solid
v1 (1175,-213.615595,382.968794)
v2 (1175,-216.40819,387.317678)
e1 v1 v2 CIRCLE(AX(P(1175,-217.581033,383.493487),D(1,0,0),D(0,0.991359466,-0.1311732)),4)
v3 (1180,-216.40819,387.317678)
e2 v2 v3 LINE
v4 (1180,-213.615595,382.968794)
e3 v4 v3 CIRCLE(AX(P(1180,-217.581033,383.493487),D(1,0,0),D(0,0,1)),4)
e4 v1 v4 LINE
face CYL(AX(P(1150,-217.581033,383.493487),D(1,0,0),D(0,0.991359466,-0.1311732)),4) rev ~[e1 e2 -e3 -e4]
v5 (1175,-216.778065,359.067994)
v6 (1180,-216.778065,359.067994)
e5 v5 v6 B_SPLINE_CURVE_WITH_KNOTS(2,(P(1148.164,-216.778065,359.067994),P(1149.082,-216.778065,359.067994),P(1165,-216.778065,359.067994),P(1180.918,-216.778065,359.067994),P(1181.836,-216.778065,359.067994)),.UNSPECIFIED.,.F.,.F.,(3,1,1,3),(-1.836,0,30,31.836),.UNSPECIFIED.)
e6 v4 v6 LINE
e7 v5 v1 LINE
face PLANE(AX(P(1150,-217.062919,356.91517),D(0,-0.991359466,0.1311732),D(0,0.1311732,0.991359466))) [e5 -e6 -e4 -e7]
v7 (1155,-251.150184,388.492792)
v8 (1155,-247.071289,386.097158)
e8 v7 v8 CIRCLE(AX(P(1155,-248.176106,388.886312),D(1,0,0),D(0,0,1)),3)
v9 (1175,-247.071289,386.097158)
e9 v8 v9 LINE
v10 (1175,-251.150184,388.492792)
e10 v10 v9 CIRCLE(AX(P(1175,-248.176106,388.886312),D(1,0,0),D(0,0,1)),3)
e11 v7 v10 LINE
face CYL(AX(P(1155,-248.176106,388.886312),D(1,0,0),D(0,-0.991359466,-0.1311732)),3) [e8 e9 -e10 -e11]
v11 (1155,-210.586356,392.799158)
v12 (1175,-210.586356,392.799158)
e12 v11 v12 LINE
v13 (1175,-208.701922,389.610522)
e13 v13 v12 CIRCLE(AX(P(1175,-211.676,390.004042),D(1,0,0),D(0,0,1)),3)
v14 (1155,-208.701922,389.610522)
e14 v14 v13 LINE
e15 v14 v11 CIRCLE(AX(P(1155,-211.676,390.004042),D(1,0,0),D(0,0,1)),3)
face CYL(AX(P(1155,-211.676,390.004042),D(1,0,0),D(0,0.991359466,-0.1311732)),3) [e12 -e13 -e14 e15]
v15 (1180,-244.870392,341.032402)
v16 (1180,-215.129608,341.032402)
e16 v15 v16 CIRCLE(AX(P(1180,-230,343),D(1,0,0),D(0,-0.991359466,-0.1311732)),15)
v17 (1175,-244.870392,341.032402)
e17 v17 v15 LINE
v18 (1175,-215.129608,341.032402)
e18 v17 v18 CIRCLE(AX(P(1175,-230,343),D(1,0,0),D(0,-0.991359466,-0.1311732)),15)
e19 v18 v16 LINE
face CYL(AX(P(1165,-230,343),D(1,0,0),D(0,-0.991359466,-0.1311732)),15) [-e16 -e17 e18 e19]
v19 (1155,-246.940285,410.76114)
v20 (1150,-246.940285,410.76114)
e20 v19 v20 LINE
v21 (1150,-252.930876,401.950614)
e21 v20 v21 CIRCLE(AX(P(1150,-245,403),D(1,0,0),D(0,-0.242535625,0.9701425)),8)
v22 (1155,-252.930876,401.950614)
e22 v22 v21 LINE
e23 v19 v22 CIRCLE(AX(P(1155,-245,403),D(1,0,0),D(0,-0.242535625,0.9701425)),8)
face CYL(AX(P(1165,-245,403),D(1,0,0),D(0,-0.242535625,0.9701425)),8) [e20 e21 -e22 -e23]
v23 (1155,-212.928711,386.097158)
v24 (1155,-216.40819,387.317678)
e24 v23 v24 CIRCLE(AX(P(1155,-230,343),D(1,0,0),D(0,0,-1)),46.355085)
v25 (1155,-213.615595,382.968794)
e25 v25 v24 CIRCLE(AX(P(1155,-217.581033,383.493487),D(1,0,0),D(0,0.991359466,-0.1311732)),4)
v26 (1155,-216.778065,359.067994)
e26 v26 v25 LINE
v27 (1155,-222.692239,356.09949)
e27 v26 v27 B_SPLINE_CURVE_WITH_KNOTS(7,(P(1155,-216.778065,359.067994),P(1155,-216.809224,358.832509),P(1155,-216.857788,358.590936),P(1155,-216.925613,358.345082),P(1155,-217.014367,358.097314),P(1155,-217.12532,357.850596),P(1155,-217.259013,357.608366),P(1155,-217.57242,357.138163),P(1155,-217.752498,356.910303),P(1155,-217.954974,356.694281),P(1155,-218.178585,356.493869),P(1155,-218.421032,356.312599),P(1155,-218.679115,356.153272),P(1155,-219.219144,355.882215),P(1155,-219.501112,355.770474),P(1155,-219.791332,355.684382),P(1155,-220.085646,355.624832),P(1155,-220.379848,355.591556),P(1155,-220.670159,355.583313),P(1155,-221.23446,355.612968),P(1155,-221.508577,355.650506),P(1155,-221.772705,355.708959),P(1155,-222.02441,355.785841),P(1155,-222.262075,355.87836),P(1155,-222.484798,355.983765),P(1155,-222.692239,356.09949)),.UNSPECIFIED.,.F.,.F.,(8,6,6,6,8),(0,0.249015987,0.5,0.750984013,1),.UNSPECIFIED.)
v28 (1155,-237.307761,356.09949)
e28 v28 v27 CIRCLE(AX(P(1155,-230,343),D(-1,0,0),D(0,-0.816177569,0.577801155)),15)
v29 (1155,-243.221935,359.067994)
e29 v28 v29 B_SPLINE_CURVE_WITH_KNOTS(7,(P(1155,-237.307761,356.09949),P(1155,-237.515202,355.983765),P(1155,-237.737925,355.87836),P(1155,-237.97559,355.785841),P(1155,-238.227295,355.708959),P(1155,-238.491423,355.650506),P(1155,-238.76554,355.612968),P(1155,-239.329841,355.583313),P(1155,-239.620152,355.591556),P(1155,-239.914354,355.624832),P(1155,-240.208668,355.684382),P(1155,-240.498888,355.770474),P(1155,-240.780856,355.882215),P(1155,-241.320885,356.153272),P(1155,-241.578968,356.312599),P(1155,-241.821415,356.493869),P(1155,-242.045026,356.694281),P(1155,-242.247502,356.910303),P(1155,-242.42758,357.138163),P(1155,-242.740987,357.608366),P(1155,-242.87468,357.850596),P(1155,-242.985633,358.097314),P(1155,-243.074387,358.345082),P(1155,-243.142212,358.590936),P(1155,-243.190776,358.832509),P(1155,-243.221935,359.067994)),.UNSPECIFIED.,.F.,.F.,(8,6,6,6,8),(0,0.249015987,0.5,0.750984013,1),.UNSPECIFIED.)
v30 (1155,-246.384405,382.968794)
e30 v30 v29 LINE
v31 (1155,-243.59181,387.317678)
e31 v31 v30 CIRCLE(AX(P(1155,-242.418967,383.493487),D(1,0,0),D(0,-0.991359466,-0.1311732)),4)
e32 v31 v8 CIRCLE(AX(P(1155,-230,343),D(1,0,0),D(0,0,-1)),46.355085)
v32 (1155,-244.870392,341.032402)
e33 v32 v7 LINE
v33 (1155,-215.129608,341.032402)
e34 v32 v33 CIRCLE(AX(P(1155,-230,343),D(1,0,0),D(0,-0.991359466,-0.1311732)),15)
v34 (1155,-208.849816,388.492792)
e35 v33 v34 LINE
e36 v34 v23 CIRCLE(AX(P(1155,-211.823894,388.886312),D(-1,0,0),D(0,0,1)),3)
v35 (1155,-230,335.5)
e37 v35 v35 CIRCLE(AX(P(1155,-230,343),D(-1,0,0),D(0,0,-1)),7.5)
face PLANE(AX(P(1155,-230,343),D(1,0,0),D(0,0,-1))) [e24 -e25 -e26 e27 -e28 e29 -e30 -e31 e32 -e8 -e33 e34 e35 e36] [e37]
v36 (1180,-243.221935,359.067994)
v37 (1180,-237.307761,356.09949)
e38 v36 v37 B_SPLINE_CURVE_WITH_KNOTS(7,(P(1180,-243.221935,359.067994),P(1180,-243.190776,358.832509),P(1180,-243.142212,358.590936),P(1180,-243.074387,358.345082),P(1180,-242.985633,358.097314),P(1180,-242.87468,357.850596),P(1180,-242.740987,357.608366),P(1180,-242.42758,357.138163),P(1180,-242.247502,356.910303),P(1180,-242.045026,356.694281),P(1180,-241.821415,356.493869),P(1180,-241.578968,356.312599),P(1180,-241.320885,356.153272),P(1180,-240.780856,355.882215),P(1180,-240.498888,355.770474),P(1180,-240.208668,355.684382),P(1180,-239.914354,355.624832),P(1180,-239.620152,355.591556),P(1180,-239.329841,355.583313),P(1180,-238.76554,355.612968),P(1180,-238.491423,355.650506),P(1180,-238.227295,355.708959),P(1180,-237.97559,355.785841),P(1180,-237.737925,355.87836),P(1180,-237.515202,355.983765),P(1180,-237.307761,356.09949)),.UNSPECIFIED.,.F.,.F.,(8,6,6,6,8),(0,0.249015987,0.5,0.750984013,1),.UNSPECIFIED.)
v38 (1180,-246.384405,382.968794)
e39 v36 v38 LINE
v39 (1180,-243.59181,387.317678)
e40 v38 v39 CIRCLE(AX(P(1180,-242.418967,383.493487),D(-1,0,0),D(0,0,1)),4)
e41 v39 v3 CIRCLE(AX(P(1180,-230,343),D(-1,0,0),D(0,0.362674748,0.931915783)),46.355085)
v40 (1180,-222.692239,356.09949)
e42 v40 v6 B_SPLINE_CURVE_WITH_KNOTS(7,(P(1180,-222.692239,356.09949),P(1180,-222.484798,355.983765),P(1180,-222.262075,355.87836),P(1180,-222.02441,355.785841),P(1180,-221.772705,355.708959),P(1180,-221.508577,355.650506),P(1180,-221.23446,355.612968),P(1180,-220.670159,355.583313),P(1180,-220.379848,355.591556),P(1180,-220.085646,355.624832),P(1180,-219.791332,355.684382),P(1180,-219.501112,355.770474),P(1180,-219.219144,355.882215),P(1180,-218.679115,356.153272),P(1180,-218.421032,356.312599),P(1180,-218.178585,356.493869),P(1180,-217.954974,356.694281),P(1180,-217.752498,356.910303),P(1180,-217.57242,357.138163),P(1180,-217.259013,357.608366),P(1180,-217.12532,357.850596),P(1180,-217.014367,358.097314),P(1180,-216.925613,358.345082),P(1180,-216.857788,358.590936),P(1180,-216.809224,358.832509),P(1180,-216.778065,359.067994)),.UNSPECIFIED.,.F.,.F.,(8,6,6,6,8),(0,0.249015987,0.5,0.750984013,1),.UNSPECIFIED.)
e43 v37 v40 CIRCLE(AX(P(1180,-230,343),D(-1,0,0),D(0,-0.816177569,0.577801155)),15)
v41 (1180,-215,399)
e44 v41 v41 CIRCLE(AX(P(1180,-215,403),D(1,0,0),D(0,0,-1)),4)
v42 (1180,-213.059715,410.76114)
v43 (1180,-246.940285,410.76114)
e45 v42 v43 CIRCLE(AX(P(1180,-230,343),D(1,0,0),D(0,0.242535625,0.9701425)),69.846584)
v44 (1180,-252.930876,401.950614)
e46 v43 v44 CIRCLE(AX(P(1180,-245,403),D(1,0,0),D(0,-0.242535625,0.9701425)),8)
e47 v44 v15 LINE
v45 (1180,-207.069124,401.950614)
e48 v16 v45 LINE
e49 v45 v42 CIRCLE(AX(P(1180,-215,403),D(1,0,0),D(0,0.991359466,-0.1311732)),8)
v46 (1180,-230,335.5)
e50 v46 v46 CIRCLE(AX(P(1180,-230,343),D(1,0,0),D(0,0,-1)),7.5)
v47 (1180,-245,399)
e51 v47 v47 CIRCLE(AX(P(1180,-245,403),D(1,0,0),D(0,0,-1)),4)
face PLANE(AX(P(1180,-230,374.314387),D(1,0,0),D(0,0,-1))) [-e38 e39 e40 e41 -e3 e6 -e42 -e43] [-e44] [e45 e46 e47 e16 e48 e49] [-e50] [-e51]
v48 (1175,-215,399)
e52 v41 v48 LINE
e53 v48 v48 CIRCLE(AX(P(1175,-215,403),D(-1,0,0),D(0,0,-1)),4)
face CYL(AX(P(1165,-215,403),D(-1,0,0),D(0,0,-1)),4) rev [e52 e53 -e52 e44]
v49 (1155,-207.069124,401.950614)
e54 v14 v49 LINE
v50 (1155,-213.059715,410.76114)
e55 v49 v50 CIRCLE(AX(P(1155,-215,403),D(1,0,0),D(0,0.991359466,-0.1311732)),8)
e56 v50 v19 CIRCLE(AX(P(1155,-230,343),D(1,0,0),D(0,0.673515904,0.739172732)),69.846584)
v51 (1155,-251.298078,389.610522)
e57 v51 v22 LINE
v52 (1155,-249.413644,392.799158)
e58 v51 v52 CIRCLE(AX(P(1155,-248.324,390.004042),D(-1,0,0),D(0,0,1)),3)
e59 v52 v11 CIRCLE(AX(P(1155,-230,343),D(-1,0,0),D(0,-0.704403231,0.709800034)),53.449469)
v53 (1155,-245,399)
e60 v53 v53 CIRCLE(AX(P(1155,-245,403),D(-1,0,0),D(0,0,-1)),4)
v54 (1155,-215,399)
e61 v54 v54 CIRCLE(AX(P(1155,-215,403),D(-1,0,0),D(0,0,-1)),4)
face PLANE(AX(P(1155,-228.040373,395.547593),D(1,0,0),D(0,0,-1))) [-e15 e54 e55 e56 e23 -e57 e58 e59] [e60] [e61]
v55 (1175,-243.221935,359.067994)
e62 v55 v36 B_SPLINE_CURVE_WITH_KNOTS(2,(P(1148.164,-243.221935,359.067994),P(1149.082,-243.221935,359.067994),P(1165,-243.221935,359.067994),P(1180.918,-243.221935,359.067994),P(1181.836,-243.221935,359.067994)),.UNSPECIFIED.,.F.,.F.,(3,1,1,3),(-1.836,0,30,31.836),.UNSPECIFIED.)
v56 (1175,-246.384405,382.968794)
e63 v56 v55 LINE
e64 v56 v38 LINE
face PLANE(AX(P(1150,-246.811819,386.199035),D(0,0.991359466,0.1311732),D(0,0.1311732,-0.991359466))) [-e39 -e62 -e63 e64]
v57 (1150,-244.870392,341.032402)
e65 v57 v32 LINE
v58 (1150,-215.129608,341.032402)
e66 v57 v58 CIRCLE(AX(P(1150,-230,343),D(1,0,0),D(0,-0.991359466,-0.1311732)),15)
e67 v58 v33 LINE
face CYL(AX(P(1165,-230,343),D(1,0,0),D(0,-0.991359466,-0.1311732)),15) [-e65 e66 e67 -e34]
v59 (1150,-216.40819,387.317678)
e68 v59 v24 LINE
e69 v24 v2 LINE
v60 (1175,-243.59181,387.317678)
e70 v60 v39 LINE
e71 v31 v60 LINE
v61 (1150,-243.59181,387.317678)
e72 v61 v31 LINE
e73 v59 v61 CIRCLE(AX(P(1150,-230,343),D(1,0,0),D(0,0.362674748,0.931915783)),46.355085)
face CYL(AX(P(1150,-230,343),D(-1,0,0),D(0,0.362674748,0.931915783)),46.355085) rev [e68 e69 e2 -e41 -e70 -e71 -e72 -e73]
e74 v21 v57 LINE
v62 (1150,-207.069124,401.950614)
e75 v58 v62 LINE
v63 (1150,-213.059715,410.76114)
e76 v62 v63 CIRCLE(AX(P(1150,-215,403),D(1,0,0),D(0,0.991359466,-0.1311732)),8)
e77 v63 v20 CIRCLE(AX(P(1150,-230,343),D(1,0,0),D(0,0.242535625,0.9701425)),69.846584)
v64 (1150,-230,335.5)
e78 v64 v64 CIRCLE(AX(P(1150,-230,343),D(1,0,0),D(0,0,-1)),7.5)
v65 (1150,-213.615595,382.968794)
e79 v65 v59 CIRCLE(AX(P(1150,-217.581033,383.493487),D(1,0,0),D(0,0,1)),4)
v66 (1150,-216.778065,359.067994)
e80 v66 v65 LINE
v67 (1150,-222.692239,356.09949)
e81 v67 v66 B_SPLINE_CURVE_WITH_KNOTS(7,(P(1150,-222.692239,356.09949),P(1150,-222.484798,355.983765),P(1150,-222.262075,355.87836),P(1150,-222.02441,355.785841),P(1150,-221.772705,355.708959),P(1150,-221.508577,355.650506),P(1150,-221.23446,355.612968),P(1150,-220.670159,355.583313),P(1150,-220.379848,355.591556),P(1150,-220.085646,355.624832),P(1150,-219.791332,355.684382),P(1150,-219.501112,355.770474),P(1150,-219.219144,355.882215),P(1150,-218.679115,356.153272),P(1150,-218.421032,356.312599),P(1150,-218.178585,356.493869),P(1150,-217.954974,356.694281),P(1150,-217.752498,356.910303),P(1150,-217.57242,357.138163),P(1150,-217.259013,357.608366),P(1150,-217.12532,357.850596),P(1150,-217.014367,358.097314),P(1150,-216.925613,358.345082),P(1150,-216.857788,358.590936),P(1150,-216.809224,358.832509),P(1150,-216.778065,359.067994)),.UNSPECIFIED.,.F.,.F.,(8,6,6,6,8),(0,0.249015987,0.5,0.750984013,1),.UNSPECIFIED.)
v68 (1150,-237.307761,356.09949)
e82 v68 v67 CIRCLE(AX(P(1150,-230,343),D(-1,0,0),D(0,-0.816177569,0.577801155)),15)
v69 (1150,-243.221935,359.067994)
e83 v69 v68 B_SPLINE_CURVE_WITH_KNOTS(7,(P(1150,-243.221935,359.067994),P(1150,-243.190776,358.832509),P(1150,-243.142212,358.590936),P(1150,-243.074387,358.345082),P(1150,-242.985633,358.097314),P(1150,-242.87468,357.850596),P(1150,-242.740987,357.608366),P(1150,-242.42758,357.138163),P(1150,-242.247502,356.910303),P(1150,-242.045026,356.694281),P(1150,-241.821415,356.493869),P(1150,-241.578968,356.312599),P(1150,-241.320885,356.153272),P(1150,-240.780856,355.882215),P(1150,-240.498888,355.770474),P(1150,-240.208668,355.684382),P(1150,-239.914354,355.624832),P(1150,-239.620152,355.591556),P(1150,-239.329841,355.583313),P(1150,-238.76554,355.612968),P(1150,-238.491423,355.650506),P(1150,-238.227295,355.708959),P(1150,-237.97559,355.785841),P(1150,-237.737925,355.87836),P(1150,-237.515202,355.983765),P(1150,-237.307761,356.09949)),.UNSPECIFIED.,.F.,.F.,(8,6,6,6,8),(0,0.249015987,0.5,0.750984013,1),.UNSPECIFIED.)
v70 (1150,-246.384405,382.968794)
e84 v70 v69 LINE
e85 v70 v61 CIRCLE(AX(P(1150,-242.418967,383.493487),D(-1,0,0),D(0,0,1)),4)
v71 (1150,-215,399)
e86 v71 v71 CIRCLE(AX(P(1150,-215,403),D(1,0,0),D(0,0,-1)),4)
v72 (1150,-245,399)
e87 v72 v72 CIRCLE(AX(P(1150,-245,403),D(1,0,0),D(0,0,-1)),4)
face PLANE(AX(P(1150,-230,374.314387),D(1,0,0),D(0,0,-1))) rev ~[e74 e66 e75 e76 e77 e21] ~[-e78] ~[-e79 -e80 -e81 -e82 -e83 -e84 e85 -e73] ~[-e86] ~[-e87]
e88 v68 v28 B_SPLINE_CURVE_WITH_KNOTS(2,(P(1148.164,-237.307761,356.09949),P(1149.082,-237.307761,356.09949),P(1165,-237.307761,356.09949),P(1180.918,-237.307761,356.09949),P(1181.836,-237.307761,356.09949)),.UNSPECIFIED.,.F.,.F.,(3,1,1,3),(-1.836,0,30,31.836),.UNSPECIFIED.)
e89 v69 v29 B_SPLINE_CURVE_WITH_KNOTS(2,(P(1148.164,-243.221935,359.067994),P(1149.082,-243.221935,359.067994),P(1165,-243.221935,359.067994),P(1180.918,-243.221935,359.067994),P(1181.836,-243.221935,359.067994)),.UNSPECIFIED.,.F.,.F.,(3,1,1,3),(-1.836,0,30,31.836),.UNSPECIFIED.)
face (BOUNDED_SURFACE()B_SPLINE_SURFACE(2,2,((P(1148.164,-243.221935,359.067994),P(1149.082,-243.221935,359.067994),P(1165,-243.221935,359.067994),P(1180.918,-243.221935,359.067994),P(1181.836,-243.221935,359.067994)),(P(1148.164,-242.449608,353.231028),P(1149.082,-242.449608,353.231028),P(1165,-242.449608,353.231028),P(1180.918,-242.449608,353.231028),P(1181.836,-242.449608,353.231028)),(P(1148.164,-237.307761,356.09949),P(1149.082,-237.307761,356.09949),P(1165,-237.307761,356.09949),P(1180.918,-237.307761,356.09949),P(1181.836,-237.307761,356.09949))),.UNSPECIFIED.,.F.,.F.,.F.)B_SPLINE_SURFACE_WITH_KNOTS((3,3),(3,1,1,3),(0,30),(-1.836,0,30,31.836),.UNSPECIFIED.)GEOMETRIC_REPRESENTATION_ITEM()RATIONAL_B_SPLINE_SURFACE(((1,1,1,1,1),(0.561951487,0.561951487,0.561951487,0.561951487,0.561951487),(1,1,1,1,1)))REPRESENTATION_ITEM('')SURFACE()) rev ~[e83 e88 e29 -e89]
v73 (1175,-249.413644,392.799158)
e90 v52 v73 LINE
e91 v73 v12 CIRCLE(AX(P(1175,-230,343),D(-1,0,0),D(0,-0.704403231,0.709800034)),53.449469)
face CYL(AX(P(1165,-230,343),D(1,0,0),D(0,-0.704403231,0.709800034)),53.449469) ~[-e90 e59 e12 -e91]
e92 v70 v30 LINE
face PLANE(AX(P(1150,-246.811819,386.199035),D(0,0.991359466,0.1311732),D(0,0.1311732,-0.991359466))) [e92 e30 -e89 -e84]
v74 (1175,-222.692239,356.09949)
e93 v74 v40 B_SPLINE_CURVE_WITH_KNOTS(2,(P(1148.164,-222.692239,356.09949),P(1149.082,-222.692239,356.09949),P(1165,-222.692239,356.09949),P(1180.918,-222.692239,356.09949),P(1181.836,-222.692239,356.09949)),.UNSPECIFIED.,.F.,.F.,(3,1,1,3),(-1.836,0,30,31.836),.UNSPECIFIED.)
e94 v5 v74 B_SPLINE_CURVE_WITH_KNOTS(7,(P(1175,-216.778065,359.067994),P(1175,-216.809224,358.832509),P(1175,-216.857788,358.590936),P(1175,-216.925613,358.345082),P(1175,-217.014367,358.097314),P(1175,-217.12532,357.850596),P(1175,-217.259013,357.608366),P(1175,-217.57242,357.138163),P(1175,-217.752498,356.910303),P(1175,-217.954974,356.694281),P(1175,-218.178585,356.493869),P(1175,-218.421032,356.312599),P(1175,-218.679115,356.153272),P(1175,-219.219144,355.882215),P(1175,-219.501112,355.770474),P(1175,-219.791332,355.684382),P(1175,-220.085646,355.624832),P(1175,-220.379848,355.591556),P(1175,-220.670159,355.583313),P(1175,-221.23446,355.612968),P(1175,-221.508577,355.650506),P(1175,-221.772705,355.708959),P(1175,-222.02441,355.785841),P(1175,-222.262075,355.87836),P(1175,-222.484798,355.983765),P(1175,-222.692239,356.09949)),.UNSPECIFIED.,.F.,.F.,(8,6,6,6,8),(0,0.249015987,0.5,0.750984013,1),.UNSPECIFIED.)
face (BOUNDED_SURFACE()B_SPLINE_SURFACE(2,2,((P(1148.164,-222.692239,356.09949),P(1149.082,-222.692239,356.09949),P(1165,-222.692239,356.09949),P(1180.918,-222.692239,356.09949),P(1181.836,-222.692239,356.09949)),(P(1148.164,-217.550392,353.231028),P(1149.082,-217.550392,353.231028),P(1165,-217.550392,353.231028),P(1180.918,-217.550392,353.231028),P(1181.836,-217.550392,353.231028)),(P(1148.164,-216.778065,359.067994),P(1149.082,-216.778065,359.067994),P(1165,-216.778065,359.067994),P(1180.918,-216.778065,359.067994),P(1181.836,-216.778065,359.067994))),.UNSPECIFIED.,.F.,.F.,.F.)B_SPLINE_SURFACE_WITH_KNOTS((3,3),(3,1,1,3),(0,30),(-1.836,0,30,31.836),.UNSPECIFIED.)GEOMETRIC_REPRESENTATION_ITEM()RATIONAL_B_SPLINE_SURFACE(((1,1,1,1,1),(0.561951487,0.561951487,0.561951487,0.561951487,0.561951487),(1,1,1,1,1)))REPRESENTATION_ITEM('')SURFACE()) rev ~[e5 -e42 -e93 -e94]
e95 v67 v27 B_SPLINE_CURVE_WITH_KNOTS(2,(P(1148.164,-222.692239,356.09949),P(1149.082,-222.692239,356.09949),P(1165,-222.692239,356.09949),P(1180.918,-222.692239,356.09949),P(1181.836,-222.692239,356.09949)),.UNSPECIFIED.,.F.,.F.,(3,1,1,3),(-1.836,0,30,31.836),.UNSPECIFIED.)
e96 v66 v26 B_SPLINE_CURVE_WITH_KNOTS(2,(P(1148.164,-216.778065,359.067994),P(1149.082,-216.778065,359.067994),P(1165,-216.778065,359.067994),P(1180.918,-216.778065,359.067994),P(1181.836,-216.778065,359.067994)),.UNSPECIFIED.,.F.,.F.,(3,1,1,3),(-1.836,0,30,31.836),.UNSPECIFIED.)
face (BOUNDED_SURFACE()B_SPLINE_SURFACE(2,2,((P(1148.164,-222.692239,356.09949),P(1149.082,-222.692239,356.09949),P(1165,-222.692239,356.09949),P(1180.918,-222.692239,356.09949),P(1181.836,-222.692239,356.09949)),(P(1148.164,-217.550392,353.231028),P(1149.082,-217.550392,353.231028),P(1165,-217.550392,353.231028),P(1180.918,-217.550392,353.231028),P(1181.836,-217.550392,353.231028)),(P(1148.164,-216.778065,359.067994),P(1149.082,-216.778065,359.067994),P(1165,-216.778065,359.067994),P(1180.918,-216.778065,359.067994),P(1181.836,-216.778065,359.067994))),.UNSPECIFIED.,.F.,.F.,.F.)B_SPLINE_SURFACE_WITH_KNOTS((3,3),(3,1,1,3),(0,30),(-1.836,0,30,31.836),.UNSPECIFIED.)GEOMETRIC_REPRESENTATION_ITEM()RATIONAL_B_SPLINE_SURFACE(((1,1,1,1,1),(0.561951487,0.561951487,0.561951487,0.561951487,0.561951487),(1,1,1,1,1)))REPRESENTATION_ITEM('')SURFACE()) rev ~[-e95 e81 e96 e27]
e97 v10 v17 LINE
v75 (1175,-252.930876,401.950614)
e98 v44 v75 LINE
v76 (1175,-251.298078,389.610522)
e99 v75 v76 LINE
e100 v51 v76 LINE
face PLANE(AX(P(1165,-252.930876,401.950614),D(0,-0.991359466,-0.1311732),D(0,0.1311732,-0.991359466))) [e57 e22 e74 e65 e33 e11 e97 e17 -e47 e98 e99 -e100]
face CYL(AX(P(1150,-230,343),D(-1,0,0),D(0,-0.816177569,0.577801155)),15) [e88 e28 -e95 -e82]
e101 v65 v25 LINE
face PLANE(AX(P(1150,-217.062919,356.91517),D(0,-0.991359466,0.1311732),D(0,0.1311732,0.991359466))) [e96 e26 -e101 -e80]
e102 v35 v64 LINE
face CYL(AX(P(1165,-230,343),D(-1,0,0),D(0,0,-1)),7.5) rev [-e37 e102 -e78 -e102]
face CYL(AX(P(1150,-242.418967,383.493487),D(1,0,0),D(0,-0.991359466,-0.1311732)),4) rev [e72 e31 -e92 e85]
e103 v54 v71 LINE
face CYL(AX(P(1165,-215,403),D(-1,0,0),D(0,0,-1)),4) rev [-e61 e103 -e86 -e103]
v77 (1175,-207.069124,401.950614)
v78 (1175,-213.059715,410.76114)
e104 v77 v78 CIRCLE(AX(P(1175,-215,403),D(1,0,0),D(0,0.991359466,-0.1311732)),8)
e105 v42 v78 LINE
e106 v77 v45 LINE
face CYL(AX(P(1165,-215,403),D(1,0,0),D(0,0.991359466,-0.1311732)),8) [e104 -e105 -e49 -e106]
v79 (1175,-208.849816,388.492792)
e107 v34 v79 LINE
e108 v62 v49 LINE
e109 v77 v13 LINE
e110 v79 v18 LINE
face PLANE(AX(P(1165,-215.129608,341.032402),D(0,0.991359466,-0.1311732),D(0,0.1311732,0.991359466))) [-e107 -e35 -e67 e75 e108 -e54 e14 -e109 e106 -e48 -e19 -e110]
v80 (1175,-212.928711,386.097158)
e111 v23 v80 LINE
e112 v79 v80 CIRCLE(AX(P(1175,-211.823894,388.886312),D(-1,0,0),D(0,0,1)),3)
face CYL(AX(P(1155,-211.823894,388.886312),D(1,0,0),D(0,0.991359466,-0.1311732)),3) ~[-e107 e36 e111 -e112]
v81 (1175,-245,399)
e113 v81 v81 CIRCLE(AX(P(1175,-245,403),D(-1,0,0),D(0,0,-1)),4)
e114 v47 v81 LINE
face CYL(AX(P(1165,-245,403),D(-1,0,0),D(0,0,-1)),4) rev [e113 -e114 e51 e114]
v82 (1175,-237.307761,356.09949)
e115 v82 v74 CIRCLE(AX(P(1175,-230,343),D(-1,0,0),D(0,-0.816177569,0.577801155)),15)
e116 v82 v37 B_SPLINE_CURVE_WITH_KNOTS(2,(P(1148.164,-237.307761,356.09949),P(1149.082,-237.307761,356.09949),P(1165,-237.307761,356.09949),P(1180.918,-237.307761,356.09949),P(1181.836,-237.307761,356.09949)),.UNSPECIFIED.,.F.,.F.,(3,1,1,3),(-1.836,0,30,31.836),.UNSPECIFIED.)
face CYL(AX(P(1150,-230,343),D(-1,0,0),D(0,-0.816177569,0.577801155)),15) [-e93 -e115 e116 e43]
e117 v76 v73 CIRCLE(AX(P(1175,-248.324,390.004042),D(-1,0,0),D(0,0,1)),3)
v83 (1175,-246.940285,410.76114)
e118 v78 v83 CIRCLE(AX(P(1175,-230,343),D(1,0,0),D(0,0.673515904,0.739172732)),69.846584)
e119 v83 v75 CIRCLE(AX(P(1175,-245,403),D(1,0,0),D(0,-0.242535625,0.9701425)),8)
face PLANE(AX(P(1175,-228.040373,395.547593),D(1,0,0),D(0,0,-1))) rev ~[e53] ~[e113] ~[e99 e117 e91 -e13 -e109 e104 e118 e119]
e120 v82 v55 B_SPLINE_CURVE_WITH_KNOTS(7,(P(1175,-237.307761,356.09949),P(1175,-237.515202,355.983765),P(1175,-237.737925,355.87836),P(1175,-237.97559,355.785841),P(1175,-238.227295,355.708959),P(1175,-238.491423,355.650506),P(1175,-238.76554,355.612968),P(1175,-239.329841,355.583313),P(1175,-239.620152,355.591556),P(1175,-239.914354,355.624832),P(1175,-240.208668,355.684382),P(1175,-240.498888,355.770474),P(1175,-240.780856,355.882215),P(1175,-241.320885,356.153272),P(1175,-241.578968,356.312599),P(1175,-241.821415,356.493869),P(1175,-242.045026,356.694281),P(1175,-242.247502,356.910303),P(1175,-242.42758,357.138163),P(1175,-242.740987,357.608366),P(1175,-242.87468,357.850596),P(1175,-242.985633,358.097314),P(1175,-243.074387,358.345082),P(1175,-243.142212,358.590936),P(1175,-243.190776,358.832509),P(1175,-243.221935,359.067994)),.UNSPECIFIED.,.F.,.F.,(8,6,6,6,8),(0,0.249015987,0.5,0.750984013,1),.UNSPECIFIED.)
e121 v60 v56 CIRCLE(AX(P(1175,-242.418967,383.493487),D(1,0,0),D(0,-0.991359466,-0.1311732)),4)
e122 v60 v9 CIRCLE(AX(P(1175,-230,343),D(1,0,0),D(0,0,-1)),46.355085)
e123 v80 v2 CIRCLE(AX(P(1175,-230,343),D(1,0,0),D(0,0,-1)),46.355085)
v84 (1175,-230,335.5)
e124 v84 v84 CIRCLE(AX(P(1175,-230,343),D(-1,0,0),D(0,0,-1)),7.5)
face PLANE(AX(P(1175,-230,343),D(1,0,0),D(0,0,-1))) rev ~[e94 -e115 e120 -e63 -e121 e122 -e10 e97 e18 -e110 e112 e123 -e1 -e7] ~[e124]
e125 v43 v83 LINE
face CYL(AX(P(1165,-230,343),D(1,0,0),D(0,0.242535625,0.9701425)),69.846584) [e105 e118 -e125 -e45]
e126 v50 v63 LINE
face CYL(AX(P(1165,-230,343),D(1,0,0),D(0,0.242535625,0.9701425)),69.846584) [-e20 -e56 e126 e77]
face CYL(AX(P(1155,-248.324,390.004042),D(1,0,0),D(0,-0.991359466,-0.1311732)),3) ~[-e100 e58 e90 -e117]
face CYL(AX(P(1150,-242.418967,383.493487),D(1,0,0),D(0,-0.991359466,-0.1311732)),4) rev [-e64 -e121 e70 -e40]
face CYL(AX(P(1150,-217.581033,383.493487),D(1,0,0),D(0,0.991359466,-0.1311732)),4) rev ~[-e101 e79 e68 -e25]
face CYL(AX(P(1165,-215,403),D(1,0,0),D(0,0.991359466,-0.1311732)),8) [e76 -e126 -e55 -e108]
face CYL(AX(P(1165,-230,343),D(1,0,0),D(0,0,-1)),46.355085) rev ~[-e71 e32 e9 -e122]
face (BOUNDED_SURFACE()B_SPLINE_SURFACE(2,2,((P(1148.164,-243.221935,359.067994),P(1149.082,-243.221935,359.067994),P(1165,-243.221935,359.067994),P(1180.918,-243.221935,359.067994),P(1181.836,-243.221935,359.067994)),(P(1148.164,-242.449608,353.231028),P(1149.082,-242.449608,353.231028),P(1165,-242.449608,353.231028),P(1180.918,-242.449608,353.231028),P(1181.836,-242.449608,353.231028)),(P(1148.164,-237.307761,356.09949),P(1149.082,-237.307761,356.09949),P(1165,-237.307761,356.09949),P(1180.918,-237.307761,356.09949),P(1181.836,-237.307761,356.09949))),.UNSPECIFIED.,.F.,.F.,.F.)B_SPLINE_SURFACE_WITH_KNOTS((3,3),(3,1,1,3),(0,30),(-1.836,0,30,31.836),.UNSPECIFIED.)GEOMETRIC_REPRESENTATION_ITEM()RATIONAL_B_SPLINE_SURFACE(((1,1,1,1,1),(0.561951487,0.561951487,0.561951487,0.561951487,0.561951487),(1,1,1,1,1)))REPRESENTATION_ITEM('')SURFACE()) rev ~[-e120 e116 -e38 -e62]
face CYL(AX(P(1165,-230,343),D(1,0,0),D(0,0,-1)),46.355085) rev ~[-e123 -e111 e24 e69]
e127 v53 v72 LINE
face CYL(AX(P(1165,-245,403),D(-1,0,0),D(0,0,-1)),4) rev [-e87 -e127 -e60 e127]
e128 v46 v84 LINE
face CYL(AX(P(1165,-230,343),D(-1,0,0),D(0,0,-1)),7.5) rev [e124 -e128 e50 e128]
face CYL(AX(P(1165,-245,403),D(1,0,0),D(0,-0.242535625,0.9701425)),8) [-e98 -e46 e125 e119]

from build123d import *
from build123d.topology import SkipClean

# Parameters (mm, degrees)
SKETCH1_R           = 7.5
SKETCH1_R_2         = 4
BOSS_EXTRUDE2_DEPTH = 15
CUT_EXTRUDE3_DEPTH  = 486.130191019
FILLET1_R           = 4
CUT_EXTRUDE8_DEPTH  = 10
SKETCH16_R          = 46.355085109
CUT_EXTRUDE9_DEPTH  = 10
FILLET6_R           = 3
FILLET7_R           = 3


with BuildPart() as part:
    # Sketch1 → Boss-Extrude2 (new, symmetric)
    with BuildSketch(Plane(origin=(1165, 0, 0), x_dir=(0, 0, -1), z_dir=(1, 0, 0))):
        with BuildLine():
            Line((-401.950614401, -252.930875731), (-341.032402001, -244.870391996))
            ThreePointArc((-341.032402001, -244.870391996), (-328, -230), (-341.032402001, -215.129608004))
            Line((-341.032402001, -215.129608004), (-401.950614401, -207.069124269))
            ThreePointArc((-401.950614401, -207.069124269), (-407.498189204, -208.384390135), (-410.761140001, -213.059715))
            ThreePointArc((-410.761140001, -213.059715), (-412.846584384, -230), (-410.761140001, -246.940285))
            ThreePointArc((-410.761140001, -246.940285), (-407.498189204, -251.615609865), (-401.950614401, -252.930875731))
        make_face()
        with Locations((-343, -230)):
            Circle(SKETCH1_R, mode=Mode.SUBTRACT)
        with Locations((-403, -215)):
            Circle(SKETCH1_R_2, mode=Mode.SUBTRACT)
        with Locations((-403, -245)):
            Circle(SKETCH1_R_2, mode=Mode.SUBTRACT)
    extrude(amount=BOSS_EXTRUDE2_DEPTH, both=True)

    # Sketch3 → Cut-Extrude3 (cut, through all)
    with BuildSketch(Plane.ZY.offset(-1150)):
        with BuildLine():
            Line((386.199035454, -246.8118188), (356.915169615, -242.937080606))
            Line((356.915169615, -242.937080606), (351.667017329, -242.242663543))
            ThreePointArc((351.667017329, -242.242663543), (358, -230), (351.667017329, -217.757336457))
            Line((351.667017329, -217.757336457), (356.915169615, -217.062919394))
            Line((356.915169615, -217.062919394), (386.199035454, -213.1881812))
            ThreePointArc((386.199035454, -213.1881812), (389.355085109, -230), (386.199035454, -246.8118188))
        make_face()
    extrude(amount=-CUT_EXTRUDE3_DEPTH, mode=Mode.SUBTRACT)

    # Fillet1
    fillet1_edges = [part.edges().sort_by_distance(p)[0] for p in [
        (1165, -246.8118188, 386.199035454),
        (1165, -242.242663543, 351.667017329),
        (1165, -217.757336457, 351.667017329),
        (1165, -213.1881812, 386.199035454),
    ]]
    fillet(fillet1_edges, radius=FILLET1_R)

    # Sketch14 → Cut-Extrude8 (cut, symmetric)
    with BuildSketch(Plane(origin=(1165, 0, 0), x_dir=(0, 0, -1), z_dir=(1, 0, 0))):
        with BuildLine():
            Line((-374.476194015, -186.80167911), (-394.628690595, -182.957214607))
            ThreePointArc((-394.628690595, -182.957214607), (-412.839050853, -231.025829466), (-393.224741594, -278.538857444))
            Line((-393.224741594, -278.538857444), (-380.9384348, -267.649978517))
            ThreePointArc((-380.9384348, -267.649978517), (-396.279541596, -225.741342376), (-374.476194015, -186.80167911))
        make_face()
    extrude(amount=CUT_EXTRUDE8_DEPTH, both=True, mode=Mode.SUBTRACT)

    # Sketch16 → Cut-Extrude9 (cut, symmetric)
    with SkipClean():  # the faces are left unmerged after this step: merging them gives an invalid solid
        with BuildSketch(Plane(origin=(1165, 0, 0), x_dir=(0, 0, -1), z_dir=(1, 0, 0))):
            with Locations((-343, -230)):
                Circle(SKETCH16_R)
        extrude(amount=CUT_EXTRUDE9_DEPTH, both=True, mode=Mode.SUBTRACT)

    # Fillet6
    fillet6_edges = [part.edges().sort_by_distance(p)[0] for p in [
        (1165, -208.400223767, 391.890647205),
        (1165, -251.599776233, 391.890647205),
    ]]
    fillet(fillet6_edges, radius=FILLET6_R)

    # Fillet7
    fillet7_edges = [part.edges().sort_by_distance(p)[0] for p in [
        (1165, -250.623789579, 384.514494082),
        (1165, -209.376210421, 384.514494082),
    ]]
    fillet(fillet7_edges, radius=FILLET7_R)


solid = part.part
